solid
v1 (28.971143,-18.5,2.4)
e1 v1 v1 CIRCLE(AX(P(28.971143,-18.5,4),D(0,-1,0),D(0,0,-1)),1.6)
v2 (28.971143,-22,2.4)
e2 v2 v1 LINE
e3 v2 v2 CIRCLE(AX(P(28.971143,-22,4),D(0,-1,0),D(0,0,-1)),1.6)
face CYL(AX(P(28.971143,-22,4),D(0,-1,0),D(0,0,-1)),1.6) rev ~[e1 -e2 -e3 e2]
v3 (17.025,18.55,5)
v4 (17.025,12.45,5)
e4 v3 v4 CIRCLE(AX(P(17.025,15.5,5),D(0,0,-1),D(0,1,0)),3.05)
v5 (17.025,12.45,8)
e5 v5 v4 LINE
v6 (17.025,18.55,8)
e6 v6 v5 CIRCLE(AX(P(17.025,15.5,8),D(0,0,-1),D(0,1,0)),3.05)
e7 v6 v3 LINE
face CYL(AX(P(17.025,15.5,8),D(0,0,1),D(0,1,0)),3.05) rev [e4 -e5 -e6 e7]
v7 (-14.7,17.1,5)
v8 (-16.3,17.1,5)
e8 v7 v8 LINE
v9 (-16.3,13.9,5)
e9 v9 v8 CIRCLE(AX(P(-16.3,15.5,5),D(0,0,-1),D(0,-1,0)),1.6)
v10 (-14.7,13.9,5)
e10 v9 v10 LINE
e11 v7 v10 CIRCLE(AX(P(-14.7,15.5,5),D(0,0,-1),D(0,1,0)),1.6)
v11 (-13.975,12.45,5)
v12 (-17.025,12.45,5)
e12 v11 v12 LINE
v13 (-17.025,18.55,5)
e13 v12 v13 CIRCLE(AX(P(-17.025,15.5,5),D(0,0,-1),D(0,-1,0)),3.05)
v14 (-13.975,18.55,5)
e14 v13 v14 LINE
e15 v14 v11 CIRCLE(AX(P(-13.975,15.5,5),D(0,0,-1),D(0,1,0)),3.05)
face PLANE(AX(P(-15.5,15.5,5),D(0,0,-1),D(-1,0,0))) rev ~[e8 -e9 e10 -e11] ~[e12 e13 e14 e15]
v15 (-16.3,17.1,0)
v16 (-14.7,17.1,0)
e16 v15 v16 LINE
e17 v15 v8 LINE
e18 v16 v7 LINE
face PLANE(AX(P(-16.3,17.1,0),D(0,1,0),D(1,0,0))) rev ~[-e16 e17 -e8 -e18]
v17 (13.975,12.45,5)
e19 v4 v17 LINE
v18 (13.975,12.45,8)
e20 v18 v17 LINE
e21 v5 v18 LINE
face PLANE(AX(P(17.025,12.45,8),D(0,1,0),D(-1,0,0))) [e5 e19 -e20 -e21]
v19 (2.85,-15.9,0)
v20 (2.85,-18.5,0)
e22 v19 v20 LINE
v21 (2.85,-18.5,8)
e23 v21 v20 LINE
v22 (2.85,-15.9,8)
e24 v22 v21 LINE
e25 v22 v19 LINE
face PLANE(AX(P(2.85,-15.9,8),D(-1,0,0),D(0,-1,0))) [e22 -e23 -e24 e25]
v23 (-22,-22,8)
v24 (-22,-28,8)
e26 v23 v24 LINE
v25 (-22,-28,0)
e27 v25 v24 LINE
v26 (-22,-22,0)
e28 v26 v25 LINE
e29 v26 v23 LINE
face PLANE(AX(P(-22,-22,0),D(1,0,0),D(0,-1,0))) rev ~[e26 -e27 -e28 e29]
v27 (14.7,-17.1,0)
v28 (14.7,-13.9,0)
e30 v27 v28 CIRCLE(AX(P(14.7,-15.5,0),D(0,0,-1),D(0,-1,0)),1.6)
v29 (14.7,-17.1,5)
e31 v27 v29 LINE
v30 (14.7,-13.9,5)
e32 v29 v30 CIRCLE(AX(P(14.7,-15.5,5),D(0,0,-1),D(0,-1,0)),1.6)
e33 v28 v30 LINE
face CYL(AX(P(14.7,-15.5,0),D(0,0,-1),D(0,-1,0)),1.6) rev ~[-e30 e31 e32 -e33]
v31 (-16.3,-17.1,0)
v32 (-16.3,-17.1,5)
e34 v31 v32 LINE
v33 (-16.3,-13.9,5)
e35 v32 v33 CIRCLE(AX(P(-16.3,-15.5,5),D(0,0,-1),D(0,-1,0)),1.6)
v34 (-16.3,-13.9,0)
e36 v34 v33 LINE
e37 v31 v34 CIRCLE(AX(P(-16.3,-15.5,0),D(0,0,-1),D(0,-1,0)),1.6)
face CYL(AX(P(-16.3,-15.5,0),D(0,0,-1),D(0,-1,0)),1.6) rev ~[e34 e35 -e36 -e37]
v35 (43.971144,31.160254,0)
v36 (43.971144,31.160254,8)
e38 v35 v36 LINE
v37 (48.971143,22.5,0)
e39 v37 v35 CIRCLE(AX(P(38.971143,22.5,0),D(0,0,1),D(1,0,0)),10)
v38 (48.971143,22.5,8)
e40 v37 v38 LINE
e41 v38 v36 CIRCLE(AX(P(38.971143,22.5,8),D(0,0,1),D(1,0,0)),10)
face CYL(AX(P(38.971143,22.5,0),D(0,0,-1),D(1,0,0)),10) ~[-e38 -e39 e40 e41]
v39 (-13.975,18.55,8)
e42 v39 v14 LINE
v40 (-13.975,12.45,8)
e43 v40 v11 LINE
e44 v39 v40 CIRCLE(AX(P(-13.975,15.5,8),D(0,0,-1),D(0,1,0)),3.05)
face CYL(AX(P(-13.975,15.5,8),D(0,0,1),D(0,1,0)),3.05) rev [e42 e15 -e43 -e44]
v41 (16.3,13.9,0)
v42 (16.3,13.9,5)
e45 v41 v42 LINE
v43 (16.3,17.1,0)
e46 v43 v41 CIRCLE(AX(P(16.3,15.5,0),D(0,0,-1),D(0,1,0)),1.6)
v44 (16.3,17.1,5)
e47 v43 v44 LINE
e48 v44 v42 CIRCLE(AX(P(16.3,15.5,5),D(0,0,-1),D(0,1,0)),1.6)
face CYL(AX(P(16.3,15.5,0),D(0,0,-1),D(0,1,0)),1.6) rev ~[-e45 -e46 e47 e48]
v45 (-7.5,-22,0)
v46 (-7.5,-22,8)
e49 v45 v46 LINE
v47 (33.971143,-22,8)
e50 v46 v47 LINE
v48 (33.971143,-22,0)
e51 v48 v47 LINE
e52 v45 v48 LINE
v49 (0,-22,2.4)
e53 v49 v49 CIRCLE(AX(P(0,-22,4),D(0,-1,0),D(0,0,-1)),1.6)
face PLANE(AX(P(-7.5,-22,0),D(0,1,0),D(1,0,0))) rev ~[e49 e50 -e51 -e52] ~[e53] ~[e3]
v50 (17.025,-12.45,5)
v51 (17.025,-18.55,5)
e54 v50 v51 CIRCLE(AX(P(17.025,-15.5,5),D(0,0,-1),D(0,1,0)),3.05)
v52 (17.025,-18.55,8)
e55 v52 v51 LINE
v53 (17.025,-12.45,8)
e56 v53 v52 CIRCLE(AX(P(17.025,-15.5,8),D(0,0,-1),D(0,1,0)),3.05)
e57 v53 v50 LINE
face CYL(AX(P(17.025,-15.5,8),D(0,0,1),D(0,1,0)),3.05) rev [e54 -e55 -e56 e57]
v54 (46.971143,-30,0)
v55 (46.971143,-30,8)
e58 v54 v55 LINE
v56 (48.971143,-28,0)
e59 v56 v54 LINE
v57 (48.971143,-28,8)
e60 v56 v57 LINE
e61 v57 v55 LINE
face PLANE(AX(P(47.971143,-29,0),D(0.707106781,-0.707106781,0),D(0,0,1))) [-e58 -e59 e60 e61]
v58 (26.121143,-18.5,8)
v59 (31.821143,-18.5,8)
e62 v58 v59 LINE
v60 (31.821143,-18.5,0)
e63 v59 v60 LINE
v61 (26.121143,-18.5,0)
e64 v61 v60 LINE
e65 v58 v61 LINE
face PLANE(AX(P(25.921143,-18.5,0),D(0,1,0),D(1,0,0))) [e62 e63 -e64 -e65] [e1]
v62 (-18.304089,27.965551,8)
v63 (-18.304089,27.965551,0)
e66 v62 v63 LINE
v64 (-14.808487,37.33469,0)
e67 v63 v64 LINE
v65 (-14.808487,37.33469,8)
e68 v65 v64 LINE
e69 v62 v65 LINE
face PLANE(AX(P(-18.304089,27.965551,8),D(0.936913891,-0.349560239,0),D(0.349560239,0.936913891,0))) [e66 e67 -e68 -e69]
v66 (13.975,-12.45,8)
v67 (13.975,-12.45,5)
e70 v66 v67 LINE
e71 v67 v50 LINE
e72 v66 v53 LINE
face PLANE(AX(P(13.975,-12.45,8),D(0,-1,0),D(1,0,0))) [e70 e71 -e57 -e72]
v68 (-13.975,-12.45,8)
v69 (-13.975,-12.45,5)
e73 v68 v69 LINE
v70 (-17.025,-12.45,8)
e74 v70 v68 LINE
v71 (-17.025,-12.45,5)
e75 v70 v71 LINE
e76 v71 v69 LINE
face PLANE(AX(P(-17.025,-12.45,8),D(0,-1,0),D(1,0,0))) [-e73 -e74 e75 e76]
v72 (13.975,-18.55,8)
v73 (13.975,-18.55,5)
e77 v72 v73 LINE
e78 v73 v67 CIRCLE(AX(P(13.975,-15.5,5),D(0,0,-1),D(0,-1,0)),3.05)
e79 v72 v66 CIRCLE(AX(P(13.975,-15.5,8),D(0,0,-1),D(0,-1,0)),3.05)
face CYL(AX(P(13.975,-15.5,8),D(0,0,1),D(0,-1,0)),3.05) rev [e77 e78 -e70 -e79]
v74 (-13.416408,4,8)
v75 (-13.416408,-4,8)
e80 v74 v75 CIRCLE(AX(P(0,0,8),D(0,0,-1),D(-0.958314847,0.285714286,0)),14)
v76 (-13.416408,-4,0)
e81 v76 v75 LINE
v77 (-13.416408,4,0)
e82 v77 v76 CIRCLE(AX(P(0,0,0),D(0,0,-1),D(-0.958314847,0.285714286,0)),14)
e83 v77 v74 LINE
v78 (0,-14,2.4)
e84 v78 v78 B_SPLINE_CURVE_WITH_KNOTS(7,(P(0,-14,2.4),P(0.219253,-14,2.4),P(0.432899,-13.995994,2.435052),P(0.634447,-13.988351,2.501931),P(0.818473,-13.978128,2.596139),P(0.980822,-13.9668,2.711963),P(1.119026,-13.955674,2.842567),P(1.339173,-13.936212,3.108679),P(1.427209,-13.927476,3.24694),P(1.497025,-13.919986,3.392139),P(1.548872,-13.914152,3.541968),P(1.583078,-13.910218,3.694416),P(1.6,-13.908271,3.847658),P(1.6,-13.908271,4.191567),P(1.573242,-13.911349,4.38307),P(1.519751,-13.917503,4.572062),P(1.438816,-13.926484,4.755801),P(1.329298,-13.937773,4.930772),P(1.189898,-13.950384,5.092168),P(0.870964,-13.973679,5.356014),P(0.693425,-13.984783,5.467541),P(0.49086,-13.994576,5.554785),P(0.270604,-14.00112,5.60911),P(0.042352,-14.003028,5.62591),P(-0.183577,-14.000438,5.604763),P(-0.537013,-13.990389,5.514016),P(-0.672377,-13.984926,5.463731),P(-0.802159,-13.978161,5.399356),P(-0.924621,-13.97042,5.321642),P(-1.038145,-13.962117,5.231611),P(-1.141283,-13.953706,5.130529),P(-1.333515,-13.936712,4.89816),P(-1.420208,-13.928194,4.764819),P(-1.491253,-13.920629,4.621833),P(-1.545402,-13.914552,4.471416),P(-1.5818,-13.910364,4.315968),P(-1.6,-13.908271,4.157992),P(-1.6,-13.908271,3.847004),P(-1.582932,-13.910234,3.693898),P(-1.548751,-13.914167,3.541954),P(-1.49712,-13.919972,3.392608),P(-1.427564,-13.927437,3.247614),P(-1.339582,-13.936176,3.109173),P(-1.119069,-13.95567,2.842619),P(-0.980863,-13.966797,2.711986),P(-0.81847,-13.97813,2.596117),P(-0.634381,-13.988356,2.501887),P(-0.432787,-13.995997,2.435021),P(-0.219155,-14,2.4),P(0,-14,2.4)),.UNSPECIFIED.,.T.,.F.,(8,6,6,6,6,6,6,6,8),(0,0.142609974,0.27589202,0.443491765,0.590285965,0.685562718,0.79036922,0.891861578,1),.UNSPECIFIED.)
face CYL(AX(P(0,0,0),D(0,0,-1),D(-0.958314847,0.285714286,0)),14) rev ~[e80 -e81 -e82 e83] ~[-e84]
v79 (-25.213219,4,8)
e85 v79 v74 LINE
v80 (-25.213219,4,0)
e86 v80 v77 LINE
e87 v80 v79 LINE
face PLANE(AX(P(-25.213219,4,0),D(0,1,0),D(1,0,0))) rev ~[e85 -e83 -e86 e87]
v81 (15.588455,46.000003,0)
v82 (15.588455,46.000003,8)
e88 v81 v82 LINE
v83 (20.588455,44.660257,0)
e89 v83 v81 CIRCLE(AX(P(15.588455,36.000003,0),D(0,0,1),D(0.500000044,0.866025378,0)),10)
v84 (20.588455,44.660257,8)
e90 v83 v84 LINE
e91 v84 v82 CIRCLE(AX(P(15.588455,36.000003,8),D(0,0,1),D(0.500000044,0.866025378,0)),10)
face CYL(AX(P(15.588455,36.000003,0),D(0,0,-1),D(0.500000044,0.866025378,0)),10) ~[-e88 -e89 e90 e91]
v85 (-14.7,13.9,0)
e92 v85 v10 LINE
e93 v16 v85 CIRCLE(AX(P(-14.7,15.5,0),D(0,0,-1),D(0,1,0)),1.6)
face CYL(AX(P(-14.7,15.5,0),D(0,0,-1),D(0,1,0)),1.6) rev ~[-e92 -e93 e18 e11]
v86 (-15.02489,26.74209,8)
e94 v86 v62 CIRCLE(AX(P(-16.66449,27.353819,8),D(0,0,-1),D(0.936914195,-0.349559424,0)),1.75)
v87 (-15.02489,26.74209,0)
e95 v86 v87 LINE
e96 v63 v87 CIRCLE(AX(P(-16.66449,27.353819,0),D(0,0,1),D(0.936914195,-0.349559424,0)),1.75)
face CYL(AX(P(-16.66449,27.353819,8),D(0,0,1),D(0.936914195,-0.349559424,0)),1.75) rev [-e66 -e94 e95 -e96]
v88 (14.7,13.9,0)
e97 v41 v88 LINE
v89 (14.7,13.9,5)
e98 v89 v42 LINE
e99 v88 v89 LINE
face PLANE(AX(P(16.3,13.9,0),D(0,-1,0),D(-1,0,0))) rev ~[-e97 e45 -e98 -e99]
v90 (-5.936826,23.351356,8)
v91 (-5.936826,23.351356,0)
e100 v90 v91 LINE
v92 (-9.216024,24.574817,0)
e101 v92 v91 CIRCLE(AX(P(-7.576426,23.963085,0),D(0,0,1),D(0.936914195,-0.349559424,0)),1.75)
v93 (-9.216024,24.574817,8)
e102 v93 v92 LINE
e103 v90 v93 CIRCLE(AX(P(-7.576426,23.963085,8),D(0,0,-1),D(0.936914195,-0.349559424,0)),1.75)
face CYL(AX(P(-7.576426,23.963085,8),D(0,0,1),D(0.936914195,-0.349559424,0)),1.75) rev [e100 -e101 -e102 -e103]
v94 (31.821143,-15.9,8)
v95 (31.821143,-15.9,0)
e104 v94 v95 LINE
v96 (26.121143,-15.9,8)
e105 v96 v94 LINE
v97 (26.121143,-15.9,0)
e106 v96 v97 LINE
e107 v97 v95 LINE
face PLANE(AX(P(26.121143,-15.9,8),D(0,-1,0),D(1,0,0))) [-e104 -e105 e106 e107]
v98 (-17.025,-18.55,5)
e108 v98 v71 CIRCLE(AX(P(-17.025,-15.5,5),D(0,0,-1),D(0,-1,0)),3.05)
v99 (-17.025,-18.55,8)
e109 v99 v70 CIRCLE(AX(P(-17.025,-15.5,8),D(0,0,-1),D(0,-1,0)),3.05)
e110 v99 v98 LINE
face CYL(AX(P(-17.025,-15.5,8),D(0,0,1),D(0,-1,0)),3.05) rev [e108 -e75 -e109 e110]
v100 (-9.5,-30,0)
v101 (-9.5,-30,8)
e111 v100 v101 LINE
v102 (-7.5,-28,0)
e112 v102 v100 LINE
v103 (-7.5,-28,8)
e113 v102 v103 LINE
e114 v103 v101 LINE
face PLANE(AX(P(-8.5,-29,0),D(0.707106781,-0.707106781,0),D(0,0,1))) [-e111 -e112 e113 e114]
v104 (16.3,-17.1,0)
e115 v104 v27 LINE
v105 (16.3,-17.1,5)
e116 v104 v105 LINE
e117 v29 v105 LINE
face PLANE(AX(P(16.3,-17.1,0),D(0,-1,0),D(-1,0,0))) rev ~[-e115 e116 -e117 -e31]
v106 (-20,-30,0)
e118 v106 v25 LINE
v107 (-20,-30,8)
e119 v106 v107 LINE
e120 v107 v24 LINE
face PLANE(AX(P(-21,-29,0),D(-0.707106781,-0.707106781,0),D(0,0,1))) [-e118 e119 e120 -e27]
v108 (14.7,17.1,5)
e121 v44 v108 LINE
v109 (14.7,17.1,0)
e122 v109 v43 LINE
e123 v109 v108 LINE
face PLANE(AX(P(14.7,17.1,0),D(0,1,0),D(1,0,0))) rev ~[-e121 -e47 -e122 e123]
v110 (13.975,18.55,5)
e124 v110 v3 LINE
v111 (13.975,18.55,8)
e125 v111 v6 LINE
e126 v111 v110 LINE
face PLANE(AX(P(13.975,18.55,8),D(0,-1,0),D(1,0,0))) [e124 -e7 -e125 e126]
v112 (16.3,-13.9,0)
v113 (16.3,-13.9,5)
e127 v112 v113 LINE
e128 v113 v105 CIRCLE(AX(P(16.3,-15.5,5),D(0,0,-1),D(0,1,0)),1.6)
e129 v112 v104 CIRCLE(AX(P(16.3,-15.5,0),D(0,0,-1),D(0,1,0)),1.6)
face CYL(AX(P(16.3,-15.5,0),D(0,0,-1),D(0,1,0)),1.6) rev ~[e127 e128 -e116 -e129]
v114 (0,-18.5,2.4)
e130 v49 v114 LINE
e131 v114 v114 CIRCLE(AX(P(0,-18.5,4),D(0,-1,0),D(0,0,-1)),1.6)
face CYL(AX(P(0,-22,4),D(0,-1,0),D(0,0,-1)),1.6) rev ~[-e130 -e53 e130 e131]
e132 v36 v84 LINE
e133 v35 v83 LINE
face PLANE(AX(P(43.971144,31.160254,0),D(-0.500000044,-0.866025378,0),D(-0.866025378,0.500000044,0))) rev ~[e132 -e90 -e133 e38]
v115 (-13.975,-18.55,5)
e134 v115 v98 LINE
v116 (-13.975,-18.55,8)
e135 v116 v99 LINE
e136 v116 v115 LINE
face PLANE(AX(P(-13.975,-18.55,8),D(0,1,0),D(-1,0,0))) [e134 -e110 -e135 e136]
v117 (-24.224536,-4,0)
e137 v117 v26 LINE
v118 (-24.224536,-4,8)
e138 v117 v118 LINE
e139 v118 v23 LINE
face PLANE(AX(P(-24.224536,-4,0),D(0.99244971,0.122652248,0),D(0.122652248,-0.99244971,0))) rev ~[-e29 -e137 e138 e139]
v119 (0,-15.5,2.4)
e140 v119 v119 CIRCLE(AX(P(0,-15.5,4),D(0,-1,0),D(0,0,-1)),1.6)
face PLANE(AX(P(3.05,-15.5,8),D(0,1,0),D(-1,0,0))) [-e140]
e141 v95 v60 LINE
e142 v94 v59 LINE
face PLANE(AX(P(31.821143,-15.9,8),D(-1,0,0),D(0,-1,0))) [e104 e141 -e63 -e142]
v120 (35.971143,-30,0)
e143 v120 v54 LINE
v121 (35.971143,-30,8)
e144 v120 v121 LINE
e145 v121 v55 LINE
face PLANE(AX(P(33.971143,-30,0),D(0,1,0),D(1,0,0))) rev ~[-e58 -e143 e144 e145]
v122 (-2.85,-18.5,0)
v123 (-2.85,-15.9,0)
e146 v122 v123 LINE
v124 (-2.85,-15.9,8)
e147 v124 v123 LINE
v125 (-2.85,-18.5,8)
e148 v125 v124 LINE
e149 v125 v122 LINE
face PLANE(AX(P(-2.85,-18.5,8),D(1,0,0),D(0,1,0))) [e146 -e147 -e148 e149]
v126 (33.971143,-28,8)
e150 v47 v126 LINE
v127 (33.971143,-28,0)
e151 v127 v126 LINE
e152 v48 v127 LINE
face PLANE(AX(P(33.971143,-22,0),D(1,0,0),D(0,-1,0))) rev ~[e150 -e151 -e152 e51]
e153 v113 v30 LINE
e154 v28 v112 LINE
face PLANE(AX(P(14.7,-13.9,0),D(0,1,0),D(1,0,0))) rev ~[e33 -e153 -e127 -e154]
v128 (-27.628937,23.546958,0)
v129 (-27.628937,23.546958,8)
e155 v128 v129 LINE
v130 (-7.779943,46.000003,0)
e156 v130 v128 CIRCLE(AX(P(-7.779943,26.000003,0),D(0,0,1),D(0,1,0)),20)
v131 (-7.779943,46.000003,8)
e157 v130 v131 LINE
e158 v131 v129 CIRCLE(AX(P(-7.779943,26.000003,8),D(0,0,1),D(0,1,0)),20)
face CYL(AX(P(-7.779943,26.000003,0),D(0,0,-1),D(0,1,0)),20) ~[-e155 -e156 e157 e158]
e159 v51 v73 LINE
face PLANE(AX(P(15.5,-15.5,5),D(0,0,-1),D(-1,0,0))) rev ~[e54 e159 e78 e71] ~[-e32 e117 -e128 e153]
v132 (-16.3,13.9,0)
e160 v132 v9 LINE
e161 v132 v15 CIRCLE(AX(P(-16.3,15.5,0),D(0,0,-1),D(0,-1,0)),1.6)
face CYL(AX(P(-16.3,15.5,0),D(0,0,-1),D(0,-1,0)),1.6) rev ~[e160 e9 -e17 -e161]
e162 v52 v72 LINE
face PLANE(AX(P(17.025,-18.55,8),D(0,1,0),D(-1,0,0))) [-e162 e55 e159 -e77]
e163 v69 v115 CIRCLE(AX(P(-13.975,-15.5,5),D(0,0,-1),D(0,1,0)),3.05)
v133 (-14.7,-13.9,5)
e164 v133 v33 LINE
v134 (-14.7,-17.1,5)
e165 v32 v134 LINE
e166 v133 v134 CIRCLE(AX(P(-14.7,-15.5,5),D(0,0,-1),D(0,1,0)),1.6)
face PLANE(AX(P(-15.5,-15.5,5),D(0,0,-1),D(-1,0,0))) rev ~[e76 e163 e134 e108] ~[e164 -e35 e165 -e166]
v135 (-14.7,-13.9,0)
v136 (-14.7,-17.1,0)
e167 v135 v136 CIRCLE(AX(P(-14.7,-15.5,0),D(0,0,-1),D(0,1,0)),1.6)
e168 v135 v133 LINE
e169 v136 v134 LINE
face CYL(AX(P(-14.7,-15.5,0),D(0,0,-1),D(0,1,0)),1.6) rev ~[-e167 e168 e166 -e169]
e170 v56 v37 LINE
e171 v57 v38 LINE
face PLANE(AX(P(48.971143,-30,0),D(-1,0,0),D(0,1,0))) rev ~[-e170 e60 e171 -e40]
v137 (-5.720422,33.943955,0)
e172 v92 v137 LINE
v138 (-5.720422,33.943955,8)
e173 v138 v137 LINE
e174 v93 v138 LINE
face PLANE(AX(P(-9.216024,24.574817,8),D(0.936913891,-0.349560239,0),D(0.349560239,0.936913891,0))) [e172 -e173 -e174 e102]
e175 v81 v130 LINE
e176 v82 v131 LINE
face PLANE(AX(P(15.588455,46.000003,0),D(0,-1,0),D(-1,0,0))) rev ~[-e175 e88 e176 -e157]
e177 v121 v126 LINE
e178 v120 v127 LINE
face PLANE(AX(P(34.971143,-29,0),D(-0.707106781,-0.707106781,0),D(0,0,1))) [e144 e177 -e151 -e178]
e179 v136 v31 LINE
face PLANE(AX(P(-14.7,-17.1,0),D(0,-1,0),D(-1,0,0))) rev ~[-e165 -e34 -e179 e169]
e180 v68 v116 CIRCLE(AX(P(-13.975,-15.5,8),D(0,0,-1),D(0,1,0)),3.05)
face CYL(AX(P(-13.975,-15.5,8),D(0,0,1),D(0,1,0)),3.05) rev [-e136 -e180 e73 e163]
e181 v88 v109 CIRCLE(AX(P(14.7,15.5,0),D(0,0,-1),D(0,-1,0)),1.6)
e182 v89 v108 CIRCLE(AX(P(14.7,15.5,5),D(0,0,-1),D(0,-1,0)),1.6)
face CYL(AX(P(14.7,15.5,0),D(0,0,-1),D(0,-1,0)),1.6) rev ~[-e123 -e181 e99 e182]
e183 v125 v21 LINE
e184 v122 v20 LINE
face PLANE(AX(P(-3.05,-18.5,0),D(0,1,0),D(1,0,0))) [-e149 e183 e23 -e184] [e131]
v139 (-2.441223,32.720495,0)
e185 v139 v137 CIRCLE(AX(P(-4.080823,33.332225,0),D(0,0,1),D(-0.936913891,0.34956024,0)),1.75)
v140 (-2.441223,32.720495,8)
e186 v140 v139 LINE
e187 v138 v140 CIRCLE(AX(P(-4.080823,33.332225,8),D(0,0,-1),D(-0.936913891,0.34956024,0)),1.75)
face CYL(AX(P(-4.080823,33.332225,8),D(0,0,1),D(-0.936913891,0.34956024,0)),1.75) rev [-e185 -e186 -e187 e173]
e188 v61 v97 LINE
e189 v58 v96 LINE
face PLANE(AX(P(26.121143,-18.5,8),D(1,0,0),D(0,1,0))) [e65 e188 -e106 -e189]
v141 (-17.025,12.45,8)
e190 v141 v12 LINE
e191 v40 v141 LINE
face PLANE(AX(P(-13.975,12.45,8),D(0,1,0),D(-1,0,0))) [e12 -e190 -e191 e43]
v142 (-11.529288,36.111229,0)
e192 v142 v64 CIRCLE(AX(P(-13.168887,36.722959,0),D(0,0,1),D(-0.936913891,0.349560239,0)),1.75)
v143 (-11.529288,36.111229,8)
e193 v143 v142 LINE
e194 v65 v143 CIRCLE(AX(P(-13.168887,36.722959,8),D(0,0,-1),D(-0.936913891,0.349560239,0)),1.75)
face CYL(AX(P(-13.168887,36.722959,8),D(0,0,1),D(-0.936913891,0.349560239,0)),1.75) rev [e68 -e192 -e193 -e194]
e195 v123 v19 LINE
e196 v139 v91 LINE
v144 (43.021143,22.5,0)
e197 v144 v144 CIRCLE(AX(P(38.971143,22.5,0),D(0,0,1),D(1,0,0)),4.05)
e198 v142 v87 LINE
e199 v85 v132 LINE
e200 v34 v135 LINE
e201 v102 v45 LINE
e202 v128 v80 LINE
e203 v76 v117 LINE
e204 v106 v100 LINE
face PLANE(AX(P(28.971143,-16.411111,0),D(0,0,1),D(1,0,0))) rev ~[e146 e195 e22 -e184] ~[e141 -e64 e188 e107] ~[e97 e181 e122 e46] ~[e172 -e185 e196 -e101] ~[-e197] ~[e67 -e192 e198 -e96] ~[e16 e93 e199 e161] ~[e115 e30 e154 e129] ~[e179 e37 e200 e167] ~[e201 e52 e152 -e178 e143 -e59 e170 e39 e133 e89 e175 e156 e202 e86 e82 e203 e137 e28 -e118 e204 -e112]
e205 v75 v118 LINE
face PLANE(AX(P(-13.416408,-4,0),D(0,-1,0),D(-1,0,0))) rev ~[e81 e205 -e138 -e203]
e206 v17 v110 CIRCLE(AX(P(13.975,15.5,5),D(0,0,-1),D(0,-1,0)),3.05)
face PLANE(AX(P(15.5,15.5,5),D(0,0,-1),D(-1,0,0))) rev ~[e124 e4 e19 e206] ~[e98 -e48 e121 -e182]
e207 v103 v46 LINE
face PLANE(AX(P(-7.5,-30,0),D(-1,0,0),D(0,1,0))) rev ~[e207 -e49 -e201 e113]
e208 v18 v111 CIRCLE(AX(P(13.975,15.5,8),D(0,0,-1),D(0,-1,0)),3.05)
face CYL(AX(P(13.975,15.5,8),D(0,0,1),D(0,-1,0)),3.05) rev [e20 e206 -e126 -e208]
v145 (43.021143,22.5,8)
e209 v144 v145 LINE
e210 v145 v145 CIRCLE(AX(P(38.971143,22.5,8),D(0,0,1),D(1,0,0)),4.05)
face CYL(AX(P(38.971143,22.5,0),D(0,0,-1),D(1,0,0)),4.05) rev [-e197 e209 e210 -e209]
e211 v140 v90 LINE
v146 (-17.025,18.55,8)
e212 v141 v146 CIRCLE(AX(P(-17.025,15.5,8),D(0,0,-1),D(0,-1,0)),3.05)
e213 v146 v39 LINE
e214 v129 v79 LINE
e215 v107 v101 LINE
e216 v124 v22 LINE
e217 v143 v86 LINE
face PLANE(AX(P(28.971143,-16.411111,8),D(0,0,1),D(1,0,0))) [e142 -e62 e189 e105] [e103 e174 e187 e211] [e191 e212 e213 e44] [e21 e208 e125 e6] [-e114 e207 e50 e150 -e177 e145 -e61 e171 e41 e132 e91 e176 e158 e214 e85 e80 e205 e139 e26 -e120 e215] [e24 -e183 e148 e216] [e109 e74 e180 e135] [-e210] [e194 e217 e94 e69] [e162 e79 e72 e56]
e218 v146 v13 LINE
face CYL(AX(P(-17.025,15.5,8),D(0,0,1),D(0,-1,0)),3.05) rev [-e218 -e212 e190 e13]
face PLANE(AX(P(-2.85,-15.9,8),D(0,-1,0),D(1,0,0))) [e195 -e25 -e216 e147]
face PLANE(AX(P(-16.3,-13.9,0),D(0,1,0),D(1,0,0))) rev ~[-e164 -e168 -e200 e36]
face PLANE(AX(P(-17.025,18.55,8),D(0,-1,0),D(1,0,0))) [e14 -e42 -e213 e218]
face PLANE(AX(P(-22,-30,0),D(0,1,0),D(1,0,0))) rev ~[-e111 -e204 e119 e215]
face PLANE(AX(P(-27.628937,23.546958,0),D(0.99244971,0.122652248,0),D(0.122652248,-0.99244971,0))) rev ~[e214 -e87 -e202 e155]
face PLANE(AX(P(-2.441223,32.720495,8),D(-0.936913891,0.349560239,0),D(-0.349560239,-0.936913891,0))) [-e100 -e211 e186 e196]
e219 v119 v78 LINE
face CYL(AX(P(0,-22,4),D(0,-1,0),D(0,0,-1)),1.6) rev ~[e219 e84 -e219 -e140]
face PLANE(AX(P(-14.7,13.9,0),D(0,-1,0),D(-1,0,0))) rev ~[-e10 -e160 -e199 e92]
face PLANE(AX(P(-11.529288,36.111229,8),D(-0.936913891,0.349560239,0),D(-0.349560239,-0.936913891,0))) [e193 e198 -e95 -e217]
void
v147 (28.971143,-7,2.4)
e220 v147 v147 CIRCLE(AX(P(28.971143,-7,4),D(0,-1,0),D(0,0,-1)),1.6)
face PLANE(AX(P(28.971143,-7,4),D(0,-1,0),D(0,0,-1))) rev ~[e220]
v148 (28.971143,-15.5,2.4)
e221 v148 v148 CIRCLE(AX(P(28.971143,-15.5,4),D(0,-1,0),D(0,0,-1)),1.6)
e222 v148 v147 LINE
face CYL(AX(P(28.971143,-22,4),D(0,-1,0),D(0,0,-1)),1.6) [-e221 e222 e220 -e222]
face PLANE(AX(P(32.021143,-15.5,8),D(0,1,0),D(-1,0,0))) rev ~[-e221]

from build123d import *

# Parameters (mm, degrees)
SKETCH_3_R          = 4.05
SKETCH_3_W          = 6.1
SKETCH_3_H          = 3
EXTRUDE_1_DEPTH     = 8
CUT_EXTRUDE_2_DEPTH = 3
SKETCH_6_R          = 1.6
CUT_EXTRUDE_3_DEPTH = 15
SKETCH_7_R          = 4.05
CUT_EXTRUDE_4_DEPTH = 68.662198854
CHAMFER_1_SIZE      = 2
EXTRUDE_2_DEPTH     = 8


with BuildPart() as part:
    # 草图3 → 凸台-拉伸1 (new body)
    with BuildSketch(Plane.XY):
        with BuildLine():
            Line((43.971143614, 31.160253781), (20.588455044, 44.660256921))
            ThreePointArc((20.588455044, 44.660256921), (18.176645298, 45.659261336), (15.5884546, 46.000003139))
            Line((15.5884546, 46.000003139), (-7.779942733, 46.000003139))
            ThreePointArc((-7.779942733, 46.000003139), (-22.764282879, 39.246495142), (-27.628936924, 23.546958177))
            Line((-27.628936924, 23.546958177), (-25.213219189, 4))
            Line((-25.213219189, 4), (-13.416407865, 4))
            ThreePointArc((-13.416407865, 4), (14, 0), (-13.416407865, -4))
            Line((-13.416407865, -4), (-24.224536362, -4))
            Line((-24.224536362, -4), (-22, -22))
            Line((-22, -22), (-22, -30))
            Line((-22, -30), (-7.5, -30))
            Line((-7.5, -30), (-7.5, -22))
            Line((-7.5, -22), (33.97114317, -22))
            Line((33.97114317, -22), (33.97114317, -30))
            Line((33.97114317, -30), (48.97114317, -30))
            Line((48.97114317, -30), (48.97114317, 22.5))
            ThreePointArc((48.97114317, 22.5), (47.631397336, 27.499999778), (43.971143614, 31.160253781))
        make_face()
        with Locations((38.97114317, 22.5)):
            Circle(SKETCH_3_R, mode=Mode.SUBTRACT)
        with Locations((0, -17)):
            Rectangle(SKETCH_3_W, SKETCH_3_H, mode=Mode.SUBTRACT)
        with BuildLine():
            Line((-16.3, 17.1), (-14.7, 17.1))
            ThreePointArc((-14.7, 17.1), (-13.1, 15.5), (-14.7, 13.9))
            Line((-14.7, 13.9), (-16.3, 13.9))
            ThreePointArc((-16.3, 13.9), (-17.9, 15.5), (-16.3, 17.1))
        make_face(mode=Mode.SUBTRACT)
        with BuildLine():
            Line((14.7, 17.1), (16.3, 17.1))
            ThreePointArc((16.3, 17.1), (17.9, 15.5), (16.3, 13.9))
            Line((16.3, 13.9), (14.7, 13.9))
            ThreePointArc((14.7, 13.9), (13.1, 15.5), (14.7, 17.1))
        make_face(mode=Mode.SUBTRACT)
        with BuildLine():
            Line((14.7, -13.9), (16.3, -13.9))
            ThreePointArc((16.3, -13.9), (17.9, -15.5), (16.3, -17.1))
            Line((16.3, -17.1), (14.7, -17.1))
            ThreePointArc((14.7, -17.1), (13.1, -15.5), (14.7, -13.9))
        make_face(mode=Mode.SUBTRACT)
        with BuildLine():
            Line((-16.3, -13.9), (-14.7, -13.9))
            ThreePointArc((-14.7, -13.9), (-13.1, -15.5), (-14.7, -17.1))
            Line((-14.7, -17.1), (-16.3, -17.1))
            ThreePointArc((-16.3, -17.1), (-17.9, -15.5), (-16.3, -13.9))
        make_face(mode=Mode.SUBTRACT)
        with Locations((28.97114317, -17)):
            Rectangle(SKETCH_3_W, SKETCH_3_H, mode=Mode.SUBTRACT)
    extrude(amount=EXTRUDE_1_DEPTH)

    # 草图5 → 切除-拉伸2 (cut)
    with BuildSketch(Plane.XY.offset(8)):
        with BuildLine():
            Line((-17.025, 18.55), (-13.975, 18.55))
            ThreePointArc((-13.975, 18.55), (-10.925, 15.5), (-13.975, 12.45))
            Line((-13.975, 12.45), (-17.025, 12.45))
            ThreePointArc((-17.025, 12.45), (-20.075, 15.5), (-17.025, 18.55))
        make_face()
        with BuildLine():
            Line((13.975, 18.55), (17.025, 18.55))
            ThreePointArc((17.025, 18.55), (20.075, 15.5), (17.025, 12.45))
            Line((17.025, 12.45), (13.975, 12.45))
            ThreePointArc((13.975, 12.45), (10.925, 15.5), (13.975, 18.55))
        make_face()
        with BuildLine():
            Line((13.975, -12.45), (17.025, -12.45))
            ThreePointArc((17.025, -12.45), (20.075, -15.5), (17.025, -18.55))
            Line((17.025, -18.55), (13.975, -18.55))
            ThreePointArc((13.975, -18.55), (10.925, -15.5), (13.975, -12.45))
        make_face()
        with BuildLine():
            Line((-17.025, -12.45), (-13.975, -12.45))
            ThreePointArc((-13.975, -12.45), (-10.925, -15.5), (-13.975, -18.55))
            Line((-13.975, -18.55), (-17.025, -18.55))
            ThreePointArc((-17.025, -18.55), (-20.075, -15.5), (-17.025, -12.45))
        make_face()
    extrude(amount=-CUT_EXTRUDE_2_DEPTH, mode=Mode.SUBTRACT)

    # 草图6 → 切除-拉伸3 (cut)
    with BuildSketch(Plane.XZ.offset(22)):
        with Locations(Location((0, 4, 0), (0, 0, 270))):
            Circle(SKETCH_6_R)
        with Locations(Location((28.97114317, 4, 0), (0, 0, 270))):
            Circle(SKETCH_6_R)
    extrude(amount=-CUT_EXTRUDE_3_DEPTH, mode=Mode.SUBTRACT)

    # 草图7 → 切除-拉伸4 (cut, through all)
    with BuildSketch(Plane.XY.offset(8)):
        with Locations((38.97114317, 22.5)):
            Circle(SKETCH_7_R)
        with BuildLine():
            Line((-9.216024373, 24.574816528), (-5.72042198, 33.943955438))
            ThreePointArc((-5.72042198, 33.943955438), (-3.469092252, 34.971824328), (-2.441223361, 32.7204946))
            Line((-2.441223361, 32.7204946), (-5.936825754, 23.35135569))
            ThreePointArc((-5.936825754, 23.35135569), (-8.188156015, 22.323485372), (-9.216024373, 24.574816528))
        make_face()
        with BuildLine():
            Line((-18.304089115, 27.965550849), (-14.808486722, 37.334689759))
            ThreePointArc((-14.808486722, 37.334689759), (-12.557156994, 38.362558649), (-11.529288104, 36.111228921))
            Line((-11.529288104, 36.111228921), (-15.024890497, 26.742090011))
            ThreePointArc((-15.024890497, 26.742090011), (-17.276220757, 25.714219693), (-18.304089115, 27.965550849))
        make_face()
    extrude(amount=-CUT_EXTRUDE_4_DEPTH, mode=Mode.SUBTRACT)

    # 倒角1
    chamfer_1_edges = [part.edges().sort_by_distance(p)[0] for p in [
        (48.97114317, -30, 4),
        (33.97114317, -30, 4),
        (-7.5, -30, 4),
        (-22, -30, 4),
    ]]
    chamfer(chamfer_1_edges, length=CHAMFER_1_SIZE)

    # 草图8 → 凸台-拉伸2 (add)
    with BuildSketch(Plane.XY.offset(8)):
        Polygon((25.92114317, -15.5), (25.92114317, -18.5), (26.12114317, -18.5), (26.12114317, -15.9), (31.82114317, -15.9), (31.82114317, -18.5), (32.02114317, -18.5), (32.02114317, -15.5), align=None)
        Polygon((-2.85, -18.5), (-2.85, -15.9), (2.85, -15.9), (2.85, -18.5), (3.05, -18.5), (3.05, -15.5), (-3.05, -15.5), (-3.05, -18.5), align=None)
    extrude(amount=-EXTRUDE_2_DEPTH)


solid = part.part
